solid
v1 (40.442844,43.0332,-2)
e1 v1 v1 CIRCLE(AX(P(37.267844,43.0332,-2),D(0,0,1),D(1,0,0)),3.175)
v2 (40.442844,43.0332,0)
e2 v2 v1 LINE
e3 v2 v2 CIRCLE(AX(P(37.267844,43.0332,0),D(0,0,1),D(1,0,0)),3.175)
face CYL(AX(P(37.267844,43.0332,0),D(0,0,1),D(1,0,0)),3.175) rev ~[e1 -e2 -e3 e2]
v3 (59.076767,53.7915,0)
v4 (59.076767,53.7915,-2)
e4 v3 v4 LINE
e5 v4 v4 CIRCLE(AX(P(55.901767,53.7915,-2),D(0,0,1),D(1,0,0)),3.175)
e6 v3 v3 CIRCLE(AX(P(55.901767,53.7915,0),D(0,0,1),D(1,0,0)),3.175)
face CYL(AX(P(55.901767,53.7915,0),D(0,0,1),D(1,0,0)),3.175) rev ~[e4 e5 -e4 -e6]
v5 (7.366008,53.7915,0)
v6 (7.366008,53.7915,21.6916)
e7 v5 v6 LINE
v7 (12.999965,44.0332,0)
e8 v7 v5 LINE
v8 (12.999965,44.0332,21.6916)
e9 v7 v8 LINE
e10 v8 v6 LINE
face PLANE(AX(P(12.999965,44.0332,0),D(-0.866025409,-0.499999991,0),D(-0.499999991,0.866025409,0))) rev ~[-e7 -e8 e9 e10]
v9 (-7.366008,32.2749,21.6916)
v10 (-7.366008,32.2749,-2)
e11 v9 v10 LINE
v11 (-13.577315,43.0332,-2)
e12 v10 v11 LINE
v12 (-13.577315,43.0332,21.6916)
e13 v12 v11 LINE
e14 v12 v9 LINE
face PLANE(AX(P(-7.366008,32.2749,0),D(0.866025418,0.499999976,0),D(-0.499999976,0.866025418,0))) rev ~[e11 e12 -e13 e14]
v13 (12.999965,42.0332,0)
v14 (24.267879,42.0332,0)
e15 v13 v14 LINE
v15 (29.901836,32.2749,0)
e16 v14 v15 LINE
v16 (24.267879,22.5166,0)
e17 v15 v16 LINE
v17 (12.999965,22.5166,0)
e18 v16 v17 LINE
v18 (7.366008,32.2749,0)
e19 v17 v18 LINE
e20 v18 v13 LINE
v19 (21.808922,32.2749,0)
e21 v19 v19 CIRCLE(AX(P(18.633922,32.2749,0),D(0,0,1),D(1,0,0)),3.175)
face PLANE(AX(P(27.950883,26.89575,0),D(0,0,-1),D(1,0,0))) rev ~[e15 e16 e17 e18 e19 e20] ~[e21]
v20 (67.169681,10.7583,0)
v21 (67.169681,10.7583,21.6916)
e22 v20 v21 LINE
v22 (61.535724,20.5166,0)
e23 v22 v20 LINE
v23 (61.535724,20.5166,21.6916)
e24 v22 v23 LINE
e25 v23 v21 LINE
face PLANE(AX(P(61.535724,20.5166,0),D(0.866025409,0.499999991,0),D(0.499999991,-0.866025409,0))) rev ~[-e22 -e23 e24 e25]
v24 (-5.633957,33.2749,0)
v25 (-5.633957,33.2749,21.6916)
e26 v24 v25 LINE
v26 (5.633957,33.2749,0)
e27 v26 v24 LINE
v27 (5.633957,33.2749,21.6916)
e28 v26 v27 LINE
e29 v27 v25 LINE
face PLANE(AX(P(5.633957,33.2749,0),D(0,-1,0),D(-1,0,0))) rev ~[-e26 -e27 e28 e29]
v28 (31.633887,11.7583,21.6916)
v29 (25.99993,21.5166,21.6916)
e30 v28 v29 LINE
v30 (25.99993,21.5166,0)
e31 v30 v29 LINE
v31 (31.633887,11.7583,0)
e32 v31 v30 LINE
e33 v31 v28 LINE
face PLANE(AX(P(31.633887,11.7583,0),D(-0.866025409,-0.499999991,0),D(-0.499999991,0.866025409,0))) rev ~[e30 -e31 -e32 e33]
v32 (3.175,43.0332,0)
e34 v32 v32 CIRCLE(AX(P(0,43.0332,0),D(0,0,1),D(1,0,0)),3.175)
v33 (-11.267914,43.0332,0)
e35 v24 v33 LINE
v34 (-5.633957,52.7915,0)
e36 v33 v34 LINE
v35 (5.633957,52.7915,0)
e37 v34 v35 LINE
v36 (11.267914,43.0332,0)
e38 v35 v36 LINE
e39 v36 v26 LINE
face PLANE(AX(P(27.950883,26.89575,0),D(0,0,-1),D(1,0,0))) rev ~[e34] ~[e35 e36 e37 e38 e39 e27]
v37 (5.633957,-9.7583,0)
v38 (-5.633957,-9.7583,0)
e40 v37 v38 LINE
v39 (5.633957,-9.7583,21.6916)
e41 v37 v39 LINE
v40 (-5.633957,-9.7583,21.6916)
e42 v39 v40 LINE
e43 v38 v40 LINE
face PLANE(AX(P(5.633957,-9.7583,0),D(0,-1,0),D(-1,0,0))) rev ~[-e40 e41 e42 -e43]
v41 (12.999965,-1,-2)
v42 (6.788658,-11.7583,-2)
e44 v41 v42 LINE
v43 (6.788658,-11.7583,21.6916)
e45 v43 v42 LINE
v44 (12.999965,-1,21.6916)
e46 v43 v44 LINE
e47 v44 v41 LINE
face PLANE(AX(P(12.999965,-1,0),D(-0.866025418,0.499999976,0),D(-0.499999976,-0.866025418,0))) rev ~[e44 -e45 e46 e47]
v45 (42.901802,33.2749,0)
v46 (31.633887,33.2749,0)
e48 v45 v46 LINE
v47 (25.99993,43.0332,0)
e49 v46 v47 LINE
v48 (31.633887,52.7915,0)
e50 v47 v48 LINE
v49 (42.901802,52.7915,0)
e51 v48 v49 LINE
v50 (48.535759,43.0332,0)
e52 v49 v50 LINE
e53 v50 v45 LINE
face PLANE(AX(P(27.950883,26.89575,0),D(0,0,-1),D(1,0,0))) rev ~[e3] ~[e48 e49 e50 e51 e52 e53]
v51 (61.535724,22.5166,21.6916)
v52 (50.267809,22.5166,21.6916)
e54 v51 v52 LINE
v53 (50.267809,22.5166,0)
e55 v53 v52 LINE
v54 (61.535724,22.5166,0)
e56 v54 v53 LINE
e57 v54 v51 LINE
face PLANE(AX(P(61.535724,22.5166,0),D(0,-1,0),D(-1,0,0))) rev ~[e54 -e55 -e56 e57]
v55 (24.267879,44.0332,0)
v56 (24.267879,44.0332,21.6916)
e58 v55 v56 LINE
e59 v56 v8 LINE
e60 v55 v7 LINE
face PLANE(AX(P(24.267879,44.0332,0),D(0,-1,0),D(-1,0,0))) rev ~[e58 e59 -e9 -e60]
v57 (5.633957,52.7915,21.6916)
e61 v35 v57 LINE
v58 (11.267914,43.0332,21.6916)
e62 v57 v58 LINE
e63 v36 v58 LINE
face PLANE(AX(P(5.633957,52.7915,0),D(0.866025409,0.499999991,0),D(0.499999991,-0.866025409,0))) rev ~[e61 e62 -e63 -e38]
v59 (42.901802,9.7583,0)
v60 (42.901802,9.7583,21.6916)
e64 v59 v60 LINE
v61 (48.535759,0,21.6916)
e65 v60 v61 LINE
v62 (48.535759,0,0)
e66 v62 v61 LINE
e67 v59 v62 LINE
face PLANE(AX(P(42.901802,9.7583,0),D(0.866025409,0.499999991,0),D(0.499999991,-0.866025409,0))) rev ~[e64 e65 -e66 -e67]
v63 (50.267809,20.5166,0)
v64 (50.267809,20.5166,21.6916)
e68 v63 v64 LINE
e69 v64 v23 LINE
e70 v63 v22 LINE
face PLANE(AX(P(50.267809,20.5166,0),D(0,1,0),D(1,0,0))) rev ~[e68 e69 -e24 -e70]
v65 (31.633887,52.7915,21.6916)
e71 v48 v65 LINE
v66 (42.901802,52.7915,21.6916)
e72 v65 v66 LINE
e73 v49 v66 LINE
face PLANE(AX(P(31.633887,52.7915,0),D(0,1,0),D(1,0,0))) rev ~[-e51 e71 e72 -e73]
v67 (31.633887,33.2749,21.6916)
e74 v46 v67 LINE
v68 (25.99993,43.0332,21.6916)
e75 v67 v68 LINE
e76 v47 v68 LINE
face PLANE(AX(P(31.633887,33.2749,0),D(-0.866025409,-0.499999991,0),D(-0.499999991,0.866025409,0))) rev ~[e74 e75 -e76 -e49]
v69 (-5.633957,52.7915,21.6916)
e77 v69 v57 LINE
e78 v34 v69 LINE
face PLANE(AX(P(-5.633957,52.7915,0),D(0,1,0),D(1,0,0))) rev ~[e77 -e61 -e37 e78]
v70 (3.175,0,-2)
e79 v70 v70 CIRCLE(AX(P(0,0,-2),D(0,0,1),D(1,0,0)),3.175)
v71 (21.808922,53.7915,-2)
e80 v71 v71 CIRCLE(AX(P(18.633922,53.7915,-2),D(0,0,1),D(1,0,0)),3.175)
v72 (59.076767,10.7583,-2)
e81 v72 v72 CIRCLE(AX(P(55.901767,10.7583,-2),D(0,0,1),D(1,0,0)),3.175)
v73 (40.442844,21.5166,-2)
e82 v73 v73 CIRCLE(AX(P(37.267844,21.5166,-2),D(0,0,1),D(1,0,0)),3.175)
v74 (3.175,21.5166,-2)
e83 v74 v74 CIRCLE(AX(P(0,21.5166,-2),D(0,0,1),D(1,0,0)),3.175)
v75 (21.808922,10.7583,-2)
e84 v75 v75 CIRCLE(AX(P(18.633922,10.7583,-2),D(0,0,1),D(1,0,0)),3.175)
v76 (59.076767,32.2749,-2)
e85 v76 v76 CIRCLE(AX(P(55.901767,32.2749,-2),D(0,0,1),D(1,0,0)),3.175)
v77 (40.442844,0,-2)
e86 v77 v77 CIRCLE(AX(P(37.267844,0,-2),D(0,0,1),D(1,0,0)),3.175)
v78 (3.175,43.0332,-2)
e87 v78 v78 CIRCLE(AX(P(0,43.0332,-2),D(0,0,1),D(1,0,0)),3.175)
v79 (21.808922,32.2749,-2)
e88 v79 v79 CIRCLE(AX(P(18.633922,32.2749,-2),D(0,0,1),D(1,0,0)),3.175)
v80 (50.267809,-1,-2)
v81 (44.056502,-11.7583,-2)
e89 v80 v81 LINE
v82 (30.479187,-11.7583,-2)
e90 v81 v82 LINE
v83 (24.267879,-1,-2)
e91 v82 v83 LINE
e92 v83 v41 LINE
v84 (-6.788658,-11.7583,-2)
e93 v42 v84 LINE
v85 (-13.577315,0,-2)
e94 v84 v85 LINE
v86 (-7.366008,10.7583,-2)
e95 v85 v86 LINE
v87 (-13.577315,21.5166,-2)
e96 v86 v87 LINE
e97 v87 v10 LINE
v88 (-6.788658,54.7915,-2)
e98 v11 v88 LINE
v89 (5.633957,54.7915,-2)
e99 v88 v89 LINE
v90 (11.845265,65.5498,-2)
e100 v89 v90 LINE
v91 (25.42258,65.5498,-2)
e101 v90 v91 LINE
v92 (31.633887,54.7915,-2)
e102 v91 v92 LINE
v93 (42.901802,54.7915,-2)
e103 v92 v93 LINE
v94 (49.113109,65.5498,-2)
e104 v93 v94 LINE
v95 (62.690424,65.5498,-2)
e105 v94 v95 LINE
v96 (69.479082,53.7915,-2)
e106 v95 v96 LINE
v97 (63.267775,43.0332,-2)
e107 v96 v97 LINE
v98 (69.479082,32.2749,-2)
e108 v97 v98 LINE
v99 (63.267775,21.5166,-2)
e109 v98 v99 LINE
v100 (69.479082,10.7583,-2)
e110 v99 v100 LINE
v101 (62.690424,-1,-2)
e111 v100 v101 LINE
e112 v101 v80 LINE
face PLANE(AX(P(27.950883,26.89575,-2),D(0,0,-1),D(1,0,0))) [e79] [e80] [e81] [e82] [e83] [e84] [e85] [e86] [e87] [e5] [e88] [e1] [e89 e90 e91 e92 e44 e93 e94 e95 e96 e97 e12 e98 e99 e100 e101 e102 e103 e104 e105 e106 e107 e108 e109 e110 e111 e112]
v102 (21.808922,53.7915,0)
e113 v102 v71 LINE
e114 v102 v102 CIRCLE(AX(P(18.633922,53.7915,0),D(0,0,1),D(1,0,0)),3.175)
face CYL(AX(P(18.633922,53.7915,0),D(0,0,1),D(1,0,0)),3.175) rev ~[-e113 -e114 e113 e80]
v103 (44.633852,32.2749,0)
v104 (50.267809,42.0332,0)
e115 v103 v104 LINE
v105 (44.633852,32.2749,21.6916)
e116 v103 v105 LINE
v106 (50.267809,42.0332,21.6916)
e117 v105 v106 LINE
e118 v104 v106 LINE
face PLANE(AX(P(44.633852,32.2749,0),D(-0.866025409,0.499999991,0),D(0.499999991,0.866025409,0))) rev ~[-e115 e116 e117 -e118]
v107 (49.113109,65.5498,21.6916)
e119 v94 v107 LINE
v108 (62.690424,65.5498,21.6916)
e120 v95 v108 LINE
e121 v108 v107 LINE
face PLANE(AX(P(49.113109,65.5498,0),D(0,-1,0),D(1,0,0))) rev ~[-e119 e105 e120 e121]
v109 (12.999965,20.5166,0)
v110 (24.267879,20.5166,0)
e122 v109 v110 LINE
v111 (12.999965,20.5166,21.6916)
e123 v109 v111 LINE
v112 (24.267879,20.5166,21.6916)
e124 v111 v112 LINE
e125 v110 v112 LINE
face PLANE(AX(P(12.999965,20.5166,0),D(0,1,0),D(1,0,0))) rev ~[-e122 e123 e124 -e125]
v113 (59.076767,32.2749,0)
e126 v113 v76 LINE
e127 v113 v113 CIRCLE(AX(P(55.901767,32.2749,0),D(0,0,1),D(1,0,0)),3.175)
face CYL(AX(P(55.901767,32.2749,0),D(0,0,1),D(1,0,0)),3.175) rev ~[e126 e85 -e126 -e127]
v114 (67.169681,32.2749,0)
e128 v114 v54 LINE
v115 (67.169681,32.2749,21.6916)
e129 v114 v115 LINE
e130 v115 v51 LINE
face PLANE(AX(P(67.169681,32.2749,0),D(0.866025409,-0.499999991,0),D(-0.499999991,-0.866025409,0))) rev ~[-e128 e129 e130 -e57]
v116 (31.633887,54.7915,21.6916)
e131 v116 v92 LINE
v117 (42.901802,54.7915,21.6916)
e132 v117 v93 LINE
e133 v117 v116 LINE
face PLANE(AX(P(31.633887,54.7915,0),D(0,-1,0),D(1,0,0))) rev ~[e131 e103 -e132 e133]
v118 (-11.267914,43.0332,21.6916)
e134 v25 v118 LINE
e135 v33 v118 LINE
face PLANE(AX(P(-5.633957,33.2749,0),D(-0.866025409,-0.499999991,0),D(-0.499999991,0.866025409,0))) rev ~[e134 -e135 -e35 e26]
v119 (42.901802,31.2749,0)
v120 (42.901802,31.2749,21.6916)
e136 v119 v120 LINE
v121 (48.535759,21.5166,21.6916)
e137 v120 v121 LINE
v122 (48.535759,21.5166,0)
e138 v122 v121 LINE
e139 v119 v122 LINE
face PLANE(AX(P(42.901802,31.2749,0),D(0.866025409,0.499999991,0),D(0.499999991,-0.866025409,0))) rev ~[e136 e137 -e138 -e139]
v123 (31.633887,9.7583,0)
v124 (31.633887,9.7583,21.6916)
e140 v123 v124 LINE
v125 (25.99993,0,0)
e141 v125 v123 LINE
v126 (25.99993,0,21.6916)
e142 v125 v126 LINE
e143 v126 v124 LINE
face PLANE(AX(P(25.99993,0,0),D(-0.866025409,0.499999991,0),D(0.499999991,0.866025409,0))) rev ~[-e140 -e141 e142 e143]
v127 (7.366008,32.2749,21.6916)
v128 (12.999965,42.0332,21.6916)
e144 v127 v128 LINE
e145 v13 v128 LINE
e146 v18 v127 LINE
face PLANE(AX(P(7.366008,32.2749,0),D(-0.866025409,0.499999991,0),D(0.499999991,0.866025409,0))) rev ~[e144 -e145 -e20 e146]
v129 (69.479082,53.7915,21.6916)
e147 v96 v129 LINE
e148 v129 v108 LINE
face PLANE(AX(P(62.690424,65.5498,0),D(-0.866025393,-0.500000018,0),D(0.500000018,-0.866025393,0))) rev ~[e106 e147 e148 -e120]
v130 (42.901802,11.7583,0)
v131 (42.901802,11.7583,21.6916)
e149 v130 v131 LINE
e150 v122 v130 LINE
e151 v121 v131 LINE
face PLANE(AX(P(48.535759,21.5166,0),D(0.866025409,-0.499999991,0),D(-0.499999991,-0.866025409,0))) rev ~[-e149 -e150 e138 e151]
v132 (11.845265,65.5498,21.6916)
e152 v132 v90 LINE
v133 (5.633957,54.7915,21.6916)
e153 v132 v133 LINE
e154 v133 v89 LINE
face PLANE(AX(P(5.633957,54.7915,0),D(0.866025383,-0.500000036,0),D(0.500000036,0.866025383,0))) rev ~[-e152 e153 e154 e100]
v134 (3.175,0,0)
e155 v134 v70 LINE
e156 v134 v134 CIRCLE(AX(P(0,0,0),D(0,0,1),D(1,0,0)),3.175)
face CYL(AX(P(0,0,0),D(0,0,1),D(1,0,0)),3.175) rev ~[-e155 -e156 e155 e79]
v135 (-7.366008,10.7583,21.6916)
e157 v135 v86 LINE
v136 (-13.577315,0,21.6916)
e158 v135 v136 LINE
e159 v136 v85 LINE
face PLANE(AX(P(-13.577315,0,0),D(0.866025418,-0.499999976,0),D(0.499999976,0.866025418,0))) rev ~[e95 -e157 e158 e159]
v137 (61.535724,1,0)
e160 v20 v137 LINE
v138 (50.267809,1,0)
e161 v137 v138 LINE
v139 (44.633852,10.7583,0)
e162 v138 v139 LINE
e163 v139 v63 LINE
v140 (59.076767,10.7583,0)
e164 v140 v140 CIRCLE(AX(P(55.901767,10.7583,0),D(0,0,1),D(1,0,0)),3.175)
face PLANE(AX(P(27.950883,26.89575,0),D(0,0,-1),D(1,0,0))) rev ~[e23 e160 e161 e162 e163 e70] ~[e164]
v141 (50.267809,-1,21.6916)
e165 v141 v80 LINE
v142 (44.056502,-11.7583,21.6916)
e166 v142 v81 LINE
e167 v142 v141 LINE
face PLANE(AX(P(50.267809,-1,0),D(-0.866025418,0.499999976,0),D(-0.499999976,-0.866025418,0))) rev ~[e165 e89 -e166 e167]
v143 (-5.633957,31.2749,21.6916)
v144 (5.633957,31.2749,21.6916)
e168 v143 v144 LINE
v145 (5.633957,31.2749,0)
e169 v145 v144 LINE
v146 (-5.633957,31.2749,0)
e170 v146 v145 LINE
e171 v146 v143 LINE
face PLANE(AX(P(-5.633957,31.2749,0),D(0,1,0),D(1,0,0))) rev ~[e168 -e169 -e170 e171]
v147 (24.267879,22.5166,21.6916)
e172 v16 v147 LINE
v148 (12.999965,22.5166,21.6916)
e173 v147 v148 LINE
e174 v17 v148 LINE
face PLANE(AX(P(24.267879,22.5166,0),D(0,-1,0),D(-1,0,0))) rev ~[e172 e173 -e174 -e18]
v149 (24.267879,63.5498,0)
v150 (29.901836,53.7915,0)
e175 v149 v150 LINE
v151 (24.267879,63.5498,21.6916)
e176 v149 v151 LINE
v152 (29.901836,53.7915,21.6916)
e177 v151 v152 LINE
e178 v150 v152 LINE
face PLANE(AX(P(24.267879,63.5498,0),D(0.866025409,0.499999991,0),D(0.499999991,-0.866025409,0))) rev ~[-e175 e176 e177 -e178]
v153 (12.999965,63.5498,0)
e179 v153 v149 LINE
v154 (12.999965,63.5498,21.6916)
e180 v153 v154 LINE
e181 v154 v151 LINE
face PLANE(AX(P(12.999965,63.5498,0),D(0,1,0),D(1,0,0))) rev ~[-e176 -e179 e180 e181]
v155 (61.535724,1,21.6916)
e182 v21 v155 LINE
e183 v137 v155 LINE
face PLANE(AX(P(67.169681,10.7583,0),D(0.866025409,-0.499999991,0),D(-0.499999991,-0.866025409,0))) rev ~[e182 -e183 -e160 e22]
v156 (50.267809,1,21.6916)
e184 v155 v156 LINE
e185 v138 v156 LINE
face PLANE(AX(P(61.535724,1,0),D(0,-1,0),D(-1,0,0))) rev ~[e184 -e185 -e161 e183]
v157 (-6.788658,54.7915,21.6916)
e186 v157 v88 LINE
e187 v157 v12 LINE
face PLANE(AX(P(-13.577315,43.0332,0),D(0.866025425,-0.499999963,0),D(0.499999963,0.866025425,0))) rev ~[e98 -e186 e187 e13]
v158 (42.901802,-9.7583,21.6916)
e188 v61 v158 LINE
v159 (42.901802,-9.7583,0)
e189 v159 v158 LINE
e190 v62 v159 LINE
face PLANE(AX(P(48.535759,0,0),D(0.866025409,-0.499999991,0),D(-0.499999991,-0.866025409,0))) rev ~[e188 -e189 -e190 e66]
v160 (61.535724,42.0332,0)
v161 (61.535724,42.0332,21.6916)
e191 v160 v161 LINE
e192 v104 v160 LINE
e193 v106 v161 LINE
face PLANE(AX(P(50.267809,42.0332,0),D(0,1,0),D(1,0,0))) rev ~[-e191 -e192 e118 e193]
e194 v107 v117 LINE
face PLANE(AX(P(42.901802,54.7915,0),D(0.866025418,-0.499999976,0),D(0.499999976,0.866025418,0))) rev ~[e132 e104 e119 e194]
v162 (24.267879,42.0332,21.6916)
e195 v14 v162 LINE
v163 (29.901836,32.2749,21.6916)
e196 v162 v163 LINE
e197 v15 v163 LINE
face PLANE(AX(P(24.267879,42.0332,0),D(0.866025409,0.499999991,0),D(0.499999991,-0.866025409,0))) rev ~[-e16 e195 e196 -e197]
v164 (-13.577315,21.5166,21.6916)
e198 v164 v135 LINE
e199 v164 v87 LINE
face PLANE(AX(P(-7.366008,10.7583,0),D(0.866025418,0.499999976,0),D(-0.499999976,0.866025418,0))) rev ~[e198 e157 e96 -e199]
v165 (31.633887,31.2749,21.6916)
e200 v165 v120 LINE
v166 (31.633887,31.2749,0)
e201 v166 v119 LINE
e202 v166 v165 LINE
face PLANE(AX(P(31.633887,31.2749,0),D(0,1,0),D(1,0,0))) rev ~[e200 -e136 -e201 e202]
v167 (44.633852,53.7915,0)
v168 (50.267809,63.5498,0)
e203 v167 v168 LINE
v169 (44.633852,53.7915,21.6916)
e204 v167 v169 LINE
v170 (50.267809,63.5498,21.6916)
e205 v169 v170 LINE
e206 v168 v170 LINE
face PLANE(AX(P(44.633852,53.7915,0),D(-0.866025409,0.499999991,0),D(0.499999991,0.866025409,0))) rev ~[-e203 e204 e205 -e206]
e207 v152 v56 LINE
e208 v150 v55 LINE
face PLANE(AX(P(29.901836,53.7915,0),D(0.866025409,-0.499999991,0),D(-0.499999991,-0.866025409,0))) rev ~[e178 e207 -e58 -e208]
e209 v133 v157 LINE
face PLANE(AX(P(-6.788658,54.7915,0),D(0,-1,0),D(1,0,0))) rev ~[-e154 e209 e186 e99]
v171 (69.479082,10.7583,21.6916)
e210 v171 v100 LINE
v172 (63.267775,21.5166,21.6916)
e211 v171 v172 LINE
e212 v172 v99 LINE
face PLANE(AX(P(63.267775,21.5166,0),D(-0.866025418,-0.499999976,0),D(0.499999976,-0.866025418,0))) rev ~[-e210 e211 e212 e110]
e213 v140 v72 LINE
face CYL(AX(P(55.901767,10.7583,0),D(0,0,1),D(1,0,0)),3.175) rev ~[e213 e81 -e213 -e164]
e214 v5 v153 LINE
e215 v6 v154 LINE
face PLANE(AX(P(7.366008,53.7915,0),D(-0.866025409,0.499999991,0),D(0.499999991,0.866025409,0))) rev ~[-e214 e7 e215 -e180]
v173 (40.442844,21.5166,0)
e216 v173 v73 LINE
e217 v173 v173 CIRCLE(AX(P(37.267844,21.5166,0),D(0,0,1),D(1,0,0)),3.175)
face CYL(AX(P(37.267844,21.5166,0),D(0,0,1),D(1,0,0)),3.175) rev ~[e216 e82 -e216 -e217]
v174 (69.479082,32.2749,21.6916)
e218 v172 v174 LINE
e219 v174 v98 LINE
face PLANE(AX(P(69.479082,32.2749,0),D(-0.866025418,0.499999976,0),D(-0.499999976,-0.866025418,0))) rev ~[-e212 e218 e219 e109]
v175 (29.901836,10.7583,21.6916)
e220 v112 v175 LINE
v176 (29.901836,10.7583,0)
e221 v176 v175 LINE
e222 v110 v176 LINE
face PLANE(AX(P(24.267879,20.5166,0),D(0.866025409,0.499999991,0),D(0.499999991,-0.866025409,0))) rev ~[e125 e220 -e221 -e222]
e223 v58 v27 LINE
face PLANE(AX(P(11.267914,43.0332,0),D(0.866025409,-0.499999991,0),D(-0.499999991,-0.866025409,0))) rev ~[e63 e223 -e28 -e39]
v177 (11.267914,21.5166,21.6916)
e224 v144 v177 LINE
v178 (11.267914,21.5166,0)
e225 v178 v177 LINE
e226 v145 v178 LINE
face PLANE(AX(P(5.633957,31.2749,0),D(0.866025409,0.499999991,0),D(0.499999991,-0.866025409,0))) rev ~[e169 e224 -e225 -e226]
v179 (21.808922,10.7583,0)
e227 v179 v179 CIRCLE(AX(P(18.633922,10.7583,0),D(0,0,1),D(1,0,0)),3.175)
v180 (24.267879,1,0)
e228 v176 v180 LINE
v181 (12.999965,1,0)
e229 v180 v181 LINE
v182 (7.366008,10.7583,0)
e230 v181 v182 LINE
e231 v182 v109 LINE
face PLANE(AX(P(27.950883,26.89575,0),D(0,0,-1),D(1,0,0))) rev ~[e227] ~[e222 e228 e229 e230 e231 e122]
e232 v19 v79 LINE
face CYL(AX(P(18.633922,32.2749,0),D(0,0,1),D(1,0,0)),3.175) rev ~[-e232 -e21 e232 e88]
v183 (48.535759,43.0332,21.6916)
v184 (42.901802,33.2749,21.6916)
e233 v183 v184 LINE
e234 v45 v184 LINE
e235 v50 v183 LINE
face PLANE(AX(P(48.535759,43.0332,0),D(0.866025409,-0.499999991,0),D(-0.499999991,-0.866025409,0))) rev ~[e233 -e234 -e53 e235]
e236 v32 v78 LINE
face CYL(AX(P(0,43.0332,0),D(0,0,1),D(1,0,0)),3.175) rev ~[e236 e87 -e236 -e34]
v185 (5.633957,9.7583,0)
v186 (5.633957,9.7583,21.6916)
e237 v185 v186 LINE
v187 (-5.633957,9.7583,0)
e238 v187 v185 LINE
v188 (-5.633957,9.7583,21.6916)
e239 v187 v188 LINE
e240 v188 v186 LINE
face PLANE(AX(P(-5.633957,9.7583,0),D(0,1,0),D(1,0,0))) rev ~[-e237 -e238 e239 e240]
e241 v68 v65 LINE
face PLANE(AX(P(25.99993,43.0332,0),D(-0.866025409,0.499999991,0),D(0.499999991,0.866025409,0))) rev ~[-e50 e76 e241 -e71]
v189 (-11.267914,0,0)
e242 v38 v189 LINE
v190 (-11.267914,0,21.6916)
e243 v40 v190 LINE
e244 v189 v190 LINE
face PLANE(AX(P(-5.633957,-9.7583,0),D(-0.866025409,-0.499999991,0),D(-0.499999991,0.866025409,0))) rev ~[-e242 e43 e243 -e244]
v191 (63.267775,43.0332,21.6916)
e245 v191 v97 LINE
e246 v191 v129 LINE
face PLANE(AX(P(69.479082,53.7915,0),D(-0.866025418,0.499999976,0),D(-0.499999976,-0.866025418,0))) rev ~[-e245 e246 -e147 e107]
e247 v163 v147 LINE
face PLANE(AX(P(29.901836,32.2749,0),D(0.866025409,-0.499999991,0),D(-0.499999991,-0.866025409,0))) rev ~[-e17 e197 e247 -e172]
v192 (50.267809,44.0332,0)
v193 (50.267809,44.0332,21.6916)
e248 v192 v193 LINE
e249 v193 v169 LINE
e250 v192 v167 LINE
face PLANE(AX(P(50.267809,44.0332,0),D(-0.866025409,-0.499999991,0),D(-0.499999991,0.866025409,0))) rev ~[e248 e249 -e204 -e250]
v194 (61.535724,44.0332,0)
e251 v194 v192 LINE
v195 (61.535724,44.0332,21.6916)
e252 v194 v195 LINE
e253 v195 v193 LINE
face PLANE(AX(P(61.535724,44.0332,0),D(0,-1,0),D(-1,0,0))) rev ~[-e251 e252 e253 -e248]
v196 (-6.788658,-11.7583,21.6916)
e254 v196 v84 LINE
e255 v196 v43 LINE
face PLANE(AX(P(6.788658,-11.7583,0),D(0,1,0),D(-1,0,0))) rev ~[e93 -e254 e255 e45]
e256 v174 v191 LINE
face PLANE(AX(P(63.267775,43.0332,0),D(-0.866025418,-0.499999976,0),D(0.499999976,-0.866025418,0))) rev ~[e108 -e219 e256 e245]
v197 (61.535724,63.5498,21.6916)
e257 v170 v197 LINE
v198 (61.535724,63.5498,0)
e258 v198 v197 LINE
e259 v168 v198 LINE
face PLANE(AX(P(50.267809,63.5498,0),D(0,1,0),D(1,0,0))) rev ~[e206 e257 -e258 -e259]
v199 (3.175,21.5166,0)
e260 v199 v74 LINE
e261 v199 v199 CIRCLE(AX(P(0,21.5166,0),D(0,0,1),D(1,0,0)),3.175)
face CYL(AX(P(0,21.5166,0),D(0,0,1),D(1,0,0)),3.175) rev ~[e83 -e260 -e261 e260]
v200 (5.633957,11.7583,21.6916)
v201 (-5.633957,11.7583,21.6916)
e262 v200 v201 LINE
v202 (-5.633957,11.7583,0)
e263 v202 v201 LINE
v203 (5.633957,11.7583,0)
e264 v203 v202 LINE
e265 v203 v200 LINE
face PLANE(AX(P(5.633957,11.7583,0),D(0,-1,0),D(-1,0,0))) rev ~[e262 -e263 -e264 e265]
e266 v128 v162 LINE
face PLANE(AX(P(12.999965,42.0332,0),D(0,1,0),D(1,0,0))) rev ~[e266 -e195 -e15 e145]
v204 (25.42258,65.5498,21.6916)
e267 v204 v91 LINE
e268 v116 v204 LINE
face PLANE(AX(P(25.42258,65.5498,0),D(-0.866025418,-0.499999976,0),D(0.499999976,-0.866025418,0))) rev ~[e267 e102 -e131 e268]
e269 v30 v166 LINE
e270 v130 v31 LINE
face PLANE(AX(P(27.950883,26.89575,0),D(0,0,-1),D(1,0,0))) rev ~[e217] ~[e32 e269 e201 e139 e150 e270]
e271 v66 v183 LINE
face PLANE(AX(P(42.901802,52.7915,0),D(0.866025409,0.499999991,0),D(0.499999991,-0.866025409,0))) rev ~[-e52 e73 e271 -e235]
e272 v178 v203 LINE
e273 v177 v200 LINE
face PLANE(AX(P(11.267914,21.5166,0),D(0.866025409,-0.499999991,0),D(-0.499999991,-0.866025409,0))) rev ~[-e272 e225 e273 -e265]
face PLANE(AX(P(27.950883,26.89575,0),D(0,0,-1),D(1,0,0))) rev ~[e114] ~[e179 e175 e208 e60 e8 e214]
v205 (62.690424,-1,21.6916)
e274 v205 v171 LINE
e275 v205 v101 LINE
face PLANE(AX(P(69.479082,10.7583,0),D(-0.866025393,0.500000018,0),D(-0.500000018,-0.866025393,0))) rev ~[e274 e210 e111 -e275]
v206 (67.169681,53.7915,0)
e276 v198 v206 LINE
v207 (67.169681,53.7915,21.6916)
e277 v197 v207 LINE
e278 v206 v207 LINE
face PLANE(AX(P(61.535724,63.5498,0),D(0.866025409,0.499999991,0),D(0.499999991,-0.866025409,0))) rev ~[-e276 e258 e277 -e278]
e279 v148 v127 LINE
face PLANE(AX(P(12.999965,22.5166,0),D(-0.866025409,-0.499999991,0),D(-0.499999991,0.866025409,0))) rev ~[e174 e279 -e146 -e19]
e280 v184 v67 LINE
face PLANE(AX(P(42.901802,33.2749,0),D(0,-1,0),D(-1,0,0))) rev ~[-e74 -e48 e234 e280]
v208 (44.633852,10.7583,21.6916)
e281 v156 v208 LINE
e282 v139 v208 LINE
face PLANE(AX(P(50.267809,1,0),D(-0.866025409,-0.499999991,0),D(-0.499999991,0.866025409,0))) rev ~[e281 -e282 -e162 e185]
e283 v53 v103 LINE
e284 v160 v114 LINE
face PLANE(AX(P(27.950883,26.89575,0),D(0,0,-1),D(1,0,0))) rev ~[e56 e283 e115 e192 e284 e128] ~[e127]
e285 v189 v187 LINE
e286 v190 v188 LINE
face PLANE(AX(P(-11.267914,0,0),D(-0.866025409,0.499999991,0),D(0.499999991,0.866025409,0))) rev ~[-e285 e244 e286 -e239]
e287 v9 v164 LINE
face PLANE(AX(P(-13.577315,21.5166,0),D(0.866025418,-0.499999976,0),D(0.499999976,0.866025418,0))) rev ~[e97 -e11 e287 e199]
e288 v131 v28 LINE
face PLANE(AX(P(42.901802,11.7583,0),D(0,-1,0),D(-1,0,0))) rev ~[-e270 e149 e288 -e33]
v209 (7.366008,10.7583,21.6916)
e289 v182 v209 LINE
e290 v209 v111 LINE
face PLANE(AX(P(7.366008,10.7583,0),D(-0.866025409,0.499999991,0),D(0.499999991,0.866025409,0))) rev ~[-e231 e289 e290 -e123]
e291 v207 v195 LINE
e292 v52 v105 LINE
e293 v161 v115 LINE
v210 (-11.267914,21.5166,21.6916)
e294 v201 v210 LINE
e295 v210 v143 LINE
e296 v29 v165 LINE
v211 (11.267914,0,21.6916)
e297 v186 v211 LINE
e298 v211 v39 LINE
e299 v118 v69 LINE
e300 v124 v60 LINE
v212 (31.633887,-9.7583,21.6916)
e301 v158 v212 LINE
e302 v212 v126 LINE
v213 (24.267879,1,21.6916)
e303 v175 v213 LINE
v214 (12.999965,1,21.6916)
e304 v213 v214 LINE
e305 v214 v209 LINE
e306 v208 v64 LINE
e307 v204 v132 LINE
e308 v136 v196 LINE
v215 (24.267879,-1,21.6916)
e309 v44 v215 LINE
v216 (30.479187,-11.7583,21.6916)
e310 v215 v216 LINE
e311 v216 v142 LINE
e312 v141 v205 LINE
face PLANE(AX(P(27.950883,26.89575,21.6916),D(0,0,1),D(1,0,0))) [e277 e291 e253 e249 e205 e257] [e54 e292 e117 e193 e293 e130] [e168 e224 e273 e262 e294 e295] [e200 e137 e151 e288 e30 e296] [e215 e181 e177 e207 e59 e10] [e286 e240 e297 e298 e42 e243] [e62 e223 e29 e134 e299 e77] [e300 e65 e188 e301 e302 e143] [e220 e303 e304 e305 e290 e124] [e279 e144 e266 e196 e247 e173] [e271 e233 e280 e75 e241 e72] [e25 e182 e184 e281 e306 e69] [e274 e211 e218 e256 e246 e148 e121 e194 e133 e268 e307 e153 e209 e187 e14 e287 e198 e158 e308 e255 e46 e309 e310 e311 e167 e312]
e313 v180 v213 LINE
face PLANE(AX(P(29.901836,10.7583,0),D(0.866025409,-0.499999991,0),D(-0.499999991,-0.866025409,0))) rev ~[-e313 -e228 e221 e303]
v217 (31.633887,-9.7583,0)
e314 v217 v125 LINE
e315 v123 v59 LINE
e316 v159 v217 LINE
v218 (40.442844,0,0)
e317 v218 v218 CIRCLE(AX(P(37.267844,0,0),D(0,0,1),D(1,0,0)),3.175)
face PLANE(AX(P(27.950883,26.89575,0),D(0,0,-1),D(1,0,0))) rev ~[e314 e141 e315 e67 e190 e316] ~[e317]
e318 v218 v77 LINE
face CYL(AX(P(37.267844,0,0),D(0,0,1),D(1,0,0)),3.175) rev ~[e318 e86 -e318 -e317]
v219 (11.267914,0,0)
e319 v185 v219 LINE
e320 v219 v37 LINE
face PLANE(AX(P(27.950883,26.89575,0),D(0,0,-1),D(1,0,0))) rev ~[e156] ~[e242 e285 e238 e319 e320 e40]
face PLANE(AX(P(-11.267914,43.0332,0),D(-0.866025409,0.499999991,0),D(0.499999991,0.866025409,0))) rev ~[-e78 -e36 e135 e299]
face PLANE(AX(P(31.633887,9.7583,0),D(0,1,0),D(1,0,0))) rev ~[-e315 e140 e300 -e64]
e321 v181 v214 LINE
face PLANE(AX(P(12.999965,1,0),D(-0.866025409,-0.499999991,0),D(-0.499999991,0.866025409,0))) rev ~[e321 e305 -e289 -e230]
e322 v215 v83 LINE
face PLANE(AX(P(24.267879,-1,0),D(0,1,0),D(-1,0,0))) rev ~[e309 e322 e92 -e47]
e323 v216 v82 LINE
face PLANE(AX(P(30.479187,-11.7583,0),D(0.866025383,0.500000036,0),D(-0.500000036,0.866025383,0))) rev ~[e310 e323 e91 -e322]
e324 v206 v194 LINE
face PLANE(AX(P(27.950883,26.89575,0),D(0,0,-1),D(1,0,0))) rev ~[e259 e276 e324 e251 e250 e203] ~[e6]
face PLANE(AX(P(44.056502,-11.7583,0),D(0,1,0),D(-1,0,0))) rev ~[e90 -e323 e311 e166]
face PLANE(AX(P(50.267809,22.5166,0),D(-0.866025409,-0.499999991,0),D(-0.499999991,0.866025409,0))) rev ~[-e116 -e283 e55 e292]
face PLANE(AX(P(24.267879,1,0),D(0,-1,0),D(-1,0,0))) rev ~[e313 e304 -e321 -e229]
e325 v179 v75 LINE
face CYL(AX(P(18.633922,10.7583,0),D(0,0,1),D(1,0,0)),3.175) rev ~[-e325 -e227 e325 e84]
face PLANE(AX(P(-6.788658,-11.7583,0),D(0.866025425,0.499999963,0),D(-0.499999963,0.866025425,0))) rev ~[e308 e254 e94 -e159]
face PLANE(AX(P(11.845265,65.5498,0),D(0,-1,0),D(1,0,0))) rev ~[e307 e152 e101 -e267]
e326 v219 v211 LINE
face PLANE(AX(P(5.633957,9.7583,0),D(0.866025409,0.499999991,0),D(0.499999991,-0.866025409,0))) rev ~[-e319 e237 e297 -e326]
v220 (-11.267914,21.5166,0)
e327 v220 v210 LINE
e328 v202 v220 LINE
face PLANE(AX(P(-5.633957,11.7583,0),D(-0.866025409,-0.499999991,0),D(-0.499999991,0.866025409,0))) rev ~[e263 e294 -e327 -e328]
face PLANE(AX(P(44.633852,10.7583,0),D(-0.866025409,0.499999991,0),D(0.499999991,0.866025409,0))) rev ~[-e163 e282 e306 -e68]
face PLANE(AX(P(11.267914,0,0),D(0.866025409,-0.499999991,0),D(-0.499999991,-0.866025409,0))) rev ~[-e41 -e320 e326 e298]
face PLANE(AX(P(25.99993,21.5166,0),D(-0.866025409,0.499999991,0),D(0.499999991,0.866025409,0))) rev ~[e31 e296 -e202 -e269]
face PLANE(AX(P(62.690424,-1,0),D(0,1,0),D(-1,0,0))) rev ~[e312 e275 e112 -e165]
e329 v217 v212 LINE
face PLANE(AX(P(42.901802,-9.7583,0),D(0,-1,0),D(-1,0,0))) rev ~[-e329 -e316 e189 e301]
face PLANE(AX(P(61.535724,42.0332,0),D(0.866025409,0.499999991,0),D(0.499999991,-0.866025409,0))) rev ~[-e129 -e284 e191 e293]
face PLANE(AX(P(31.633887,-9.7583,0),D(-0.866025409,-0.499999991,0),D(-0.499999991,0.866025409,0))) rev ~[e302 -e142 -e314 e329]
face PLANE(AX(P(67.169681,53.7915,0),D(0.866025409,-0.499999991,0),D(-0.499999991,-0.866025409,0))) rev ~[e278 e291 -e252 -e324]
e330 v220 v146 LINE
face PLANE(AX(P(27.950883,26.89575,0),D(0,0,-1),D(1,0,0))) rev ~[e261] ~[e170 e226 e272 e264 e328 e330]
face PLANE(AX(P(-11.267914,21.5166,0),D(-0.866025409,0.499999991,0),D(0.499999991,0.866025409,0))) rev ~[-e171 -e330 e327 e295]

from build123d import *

# Parameters (mm, degrees)
F1_DEPTH = 21.6916
F3_DEPTH = 2
F0_R     = 3.175
F4_DEPTH = 2


with BuildPart() as f1:
    # F0 (on Top) → F1 (new body)
    with BuildSketch(Plane.XY):
        Polygon((-7.366008, 32.2749), (-13.577315, 21.5166), (-7.366008, 10.7583), (-13.577315, 0), (-6.788658, -11.7583), (6.788658, -11.7583), (12.999965, -1), (24.267879, -1), (30.479187, -11.7583), (44.056502, -11.7583), (50.267809, -1), (62.690424, -1), (69.479082, 10.7583), (63.267775, 21.5166), (69.479082, 32.2749), (63.267775, 43.0332), (69.479082, 53.7915), (62.690424, 65.5498), (49.113109, 65.5498), (42.901802, 54.7915), (31.633887, 54.7915), (25.42258, 65.5498), (11.845265, 65.5498), (5.633957, 54.7915), (-6.788658, 54.7915), (-13.577315, 43.0332), align=None)
        Polygon((-5.633957, 9.7583), (5.633957, 9.7583), (11.267914, 0), (5.633957, -9.7583), (-5.633957, -9.7583), (-11.267914, 0), align=None, mode=Mode.SUBTRACT)
        Polygon((11.267914, 21.5166), (5.633957, 11.7583), (-5.633957, 11.7583), (-11.267914, 21.5166), (-5.633957, 31.2749), (5.633957, 31.2749), align=None, mode=Mode.SUBTRACT)
        Polygon((12.999965, 20.5166), (24.267879, 20.5166), (29.901836, 10.7583), (24.267879, 1), (12.999965, 1), (7.366008, 10.7583), align=None, mode=Mode.SUBTRACT)
        Polygon((48.535759, 0), (42.901802, -9.7583), (31.633887, -9.7583), (25.99993, 0), (31.633887, 9.7583), (42.901802, 9.7583), align=None, mode=Mode.SUBTRACT)
        Polygon((25.99993, 21.5166), (31.633887, 31.2749), (42.901802, 31.2749), (48.535759, 21.5166), (42.901802, 11.7583), (31.633887, 11.7583), align=None, mode=Mode.SUBTRACT)
        Polygon((61.535724, 1), (50.267809, 1), (44.633852, 10.7583), (50.267809, 20.5166), (61.535724, 20.5166), (67.169681, 10.7583), align=None, mode=Mode.SUBTRACT)
        Polygon((11.267914, 43.0332), (5.633957, 33.2749), (-5.633957, 33.2749), (-11.267914, 43.0332), (-5.633957, 52.7915), (5.633957, 52.7915), align=None, mode=Mode.SUBTRACT)
        Polygon((24.267879, 22.5166), (12.999965, 22.5166), (7.366008, 32.2749), (12.999965, 42.0332), (24.267879, 42.0332), (29.901836, 32.2749), align=None, mode=Mode.SUBTRACT)
        Polygon((24.267879, 44.0332), (12.999965, 44.0332), (7.366008, 53.7915), (12.999965, 63.5498), (24.267879, 63.5498), (29.901836, 53.7915), align=None, mode=Mode.SUBTRACT)
        Polygon((25.99993, 43.0332), (31.633887, 52.7915), (42.901802, 52.7915), (48.535759, 43.0332), (42.901802, 33.2749), (31.633887, 33.2749), align=None, mode=Mode.SUBTRACT)
        Polygon((67.169681, 32.2749), (61.535724, 22.5166), (50.267809, 22.5166), (44.633852, 32.2749), (50.267809, 42.0332), (61.535724, 42.0332), align=None, mode=Mode.SUBTRACT)
        Polygon((50.267809, 63.5498), (61.535724, 63.5498), (67.169681, 53.7915), (61.535724, 44.0332), (50.267809, 44.0332), (44.633852, 53.7915), align=None, mode=Mode.SUBTRACT)
    extrude(amount=F1_DEPTH)

    # F2 (on face) → F3 (join)
    with BuildSketch(Plane(origin=(0, 0, 0), x_dir=(1, 0, 0), z_dir=(0, 0, -1))):
        Polygon((69.479082, -53.7915), (63.267775, -43.0332), (69.479082, -32.2749), (63.267775, -21.5166), (69.479082, -10.7583), (62.690424, 1), (50.267809, 1), (44.056502, 11.7583), (30.479187, 11.7583), (24.267879, 1), (12.999965, 1), (6.788658, 11.7583), (-6.788658, 11.7583), (-13.577315, 0), (-7.366008, -10.7583), (-13.577315, -21.5166), (-7.366008, -32.2749), (-13.577315, -43.0332), (-6.788658, -54.7915), (5.633957, -54.7915), (11.845265, -65.5498), (25.42258, -65.5498), (31.633887, -54.7915), (42.901802, -54.7915), (49.113109, -65.5498), (62.690424, -65.5498), align=None)
    extrude(amount=F3_DEPTH)

    # F0 (on Top) → F4 (cut, through all)
    with BuildSketch(Plane.XY):
        with Locations((0, 43.0332)):
            Circle(F0_R)
        with Locations((18.633922, 53.7915)):
            Circle(F0_R)
        with Locations((37.267844, 43.0332)):
            Circle(F0_R)
        with Locations((55.901767, 53.7915)):
            Circle(F0_R)
        with Locations((55.901767, 32.2749)):
            Circle(F0_R)
        with Locations((37.267844, 21.5166)):
            Circle(F0_R)
        with Locations((18.633922, 32.2749)):
            Circle(F0_R)
        with Locations((0, 21.5166)):
            Circle(F0_R)
        Circle(F0_R)
        with Locations((18.633922, 10.7583)):
            Circle(F0_R)
        with Locations((37.267844, 0)):
            Circle(F0_R)
        with Locations((55.901767, 10.7583)):
            Circle(F0_R)
    extrude(amount=-F4_DEPTH, mode=Mode.SUBTRACT)


solid = f1.part
